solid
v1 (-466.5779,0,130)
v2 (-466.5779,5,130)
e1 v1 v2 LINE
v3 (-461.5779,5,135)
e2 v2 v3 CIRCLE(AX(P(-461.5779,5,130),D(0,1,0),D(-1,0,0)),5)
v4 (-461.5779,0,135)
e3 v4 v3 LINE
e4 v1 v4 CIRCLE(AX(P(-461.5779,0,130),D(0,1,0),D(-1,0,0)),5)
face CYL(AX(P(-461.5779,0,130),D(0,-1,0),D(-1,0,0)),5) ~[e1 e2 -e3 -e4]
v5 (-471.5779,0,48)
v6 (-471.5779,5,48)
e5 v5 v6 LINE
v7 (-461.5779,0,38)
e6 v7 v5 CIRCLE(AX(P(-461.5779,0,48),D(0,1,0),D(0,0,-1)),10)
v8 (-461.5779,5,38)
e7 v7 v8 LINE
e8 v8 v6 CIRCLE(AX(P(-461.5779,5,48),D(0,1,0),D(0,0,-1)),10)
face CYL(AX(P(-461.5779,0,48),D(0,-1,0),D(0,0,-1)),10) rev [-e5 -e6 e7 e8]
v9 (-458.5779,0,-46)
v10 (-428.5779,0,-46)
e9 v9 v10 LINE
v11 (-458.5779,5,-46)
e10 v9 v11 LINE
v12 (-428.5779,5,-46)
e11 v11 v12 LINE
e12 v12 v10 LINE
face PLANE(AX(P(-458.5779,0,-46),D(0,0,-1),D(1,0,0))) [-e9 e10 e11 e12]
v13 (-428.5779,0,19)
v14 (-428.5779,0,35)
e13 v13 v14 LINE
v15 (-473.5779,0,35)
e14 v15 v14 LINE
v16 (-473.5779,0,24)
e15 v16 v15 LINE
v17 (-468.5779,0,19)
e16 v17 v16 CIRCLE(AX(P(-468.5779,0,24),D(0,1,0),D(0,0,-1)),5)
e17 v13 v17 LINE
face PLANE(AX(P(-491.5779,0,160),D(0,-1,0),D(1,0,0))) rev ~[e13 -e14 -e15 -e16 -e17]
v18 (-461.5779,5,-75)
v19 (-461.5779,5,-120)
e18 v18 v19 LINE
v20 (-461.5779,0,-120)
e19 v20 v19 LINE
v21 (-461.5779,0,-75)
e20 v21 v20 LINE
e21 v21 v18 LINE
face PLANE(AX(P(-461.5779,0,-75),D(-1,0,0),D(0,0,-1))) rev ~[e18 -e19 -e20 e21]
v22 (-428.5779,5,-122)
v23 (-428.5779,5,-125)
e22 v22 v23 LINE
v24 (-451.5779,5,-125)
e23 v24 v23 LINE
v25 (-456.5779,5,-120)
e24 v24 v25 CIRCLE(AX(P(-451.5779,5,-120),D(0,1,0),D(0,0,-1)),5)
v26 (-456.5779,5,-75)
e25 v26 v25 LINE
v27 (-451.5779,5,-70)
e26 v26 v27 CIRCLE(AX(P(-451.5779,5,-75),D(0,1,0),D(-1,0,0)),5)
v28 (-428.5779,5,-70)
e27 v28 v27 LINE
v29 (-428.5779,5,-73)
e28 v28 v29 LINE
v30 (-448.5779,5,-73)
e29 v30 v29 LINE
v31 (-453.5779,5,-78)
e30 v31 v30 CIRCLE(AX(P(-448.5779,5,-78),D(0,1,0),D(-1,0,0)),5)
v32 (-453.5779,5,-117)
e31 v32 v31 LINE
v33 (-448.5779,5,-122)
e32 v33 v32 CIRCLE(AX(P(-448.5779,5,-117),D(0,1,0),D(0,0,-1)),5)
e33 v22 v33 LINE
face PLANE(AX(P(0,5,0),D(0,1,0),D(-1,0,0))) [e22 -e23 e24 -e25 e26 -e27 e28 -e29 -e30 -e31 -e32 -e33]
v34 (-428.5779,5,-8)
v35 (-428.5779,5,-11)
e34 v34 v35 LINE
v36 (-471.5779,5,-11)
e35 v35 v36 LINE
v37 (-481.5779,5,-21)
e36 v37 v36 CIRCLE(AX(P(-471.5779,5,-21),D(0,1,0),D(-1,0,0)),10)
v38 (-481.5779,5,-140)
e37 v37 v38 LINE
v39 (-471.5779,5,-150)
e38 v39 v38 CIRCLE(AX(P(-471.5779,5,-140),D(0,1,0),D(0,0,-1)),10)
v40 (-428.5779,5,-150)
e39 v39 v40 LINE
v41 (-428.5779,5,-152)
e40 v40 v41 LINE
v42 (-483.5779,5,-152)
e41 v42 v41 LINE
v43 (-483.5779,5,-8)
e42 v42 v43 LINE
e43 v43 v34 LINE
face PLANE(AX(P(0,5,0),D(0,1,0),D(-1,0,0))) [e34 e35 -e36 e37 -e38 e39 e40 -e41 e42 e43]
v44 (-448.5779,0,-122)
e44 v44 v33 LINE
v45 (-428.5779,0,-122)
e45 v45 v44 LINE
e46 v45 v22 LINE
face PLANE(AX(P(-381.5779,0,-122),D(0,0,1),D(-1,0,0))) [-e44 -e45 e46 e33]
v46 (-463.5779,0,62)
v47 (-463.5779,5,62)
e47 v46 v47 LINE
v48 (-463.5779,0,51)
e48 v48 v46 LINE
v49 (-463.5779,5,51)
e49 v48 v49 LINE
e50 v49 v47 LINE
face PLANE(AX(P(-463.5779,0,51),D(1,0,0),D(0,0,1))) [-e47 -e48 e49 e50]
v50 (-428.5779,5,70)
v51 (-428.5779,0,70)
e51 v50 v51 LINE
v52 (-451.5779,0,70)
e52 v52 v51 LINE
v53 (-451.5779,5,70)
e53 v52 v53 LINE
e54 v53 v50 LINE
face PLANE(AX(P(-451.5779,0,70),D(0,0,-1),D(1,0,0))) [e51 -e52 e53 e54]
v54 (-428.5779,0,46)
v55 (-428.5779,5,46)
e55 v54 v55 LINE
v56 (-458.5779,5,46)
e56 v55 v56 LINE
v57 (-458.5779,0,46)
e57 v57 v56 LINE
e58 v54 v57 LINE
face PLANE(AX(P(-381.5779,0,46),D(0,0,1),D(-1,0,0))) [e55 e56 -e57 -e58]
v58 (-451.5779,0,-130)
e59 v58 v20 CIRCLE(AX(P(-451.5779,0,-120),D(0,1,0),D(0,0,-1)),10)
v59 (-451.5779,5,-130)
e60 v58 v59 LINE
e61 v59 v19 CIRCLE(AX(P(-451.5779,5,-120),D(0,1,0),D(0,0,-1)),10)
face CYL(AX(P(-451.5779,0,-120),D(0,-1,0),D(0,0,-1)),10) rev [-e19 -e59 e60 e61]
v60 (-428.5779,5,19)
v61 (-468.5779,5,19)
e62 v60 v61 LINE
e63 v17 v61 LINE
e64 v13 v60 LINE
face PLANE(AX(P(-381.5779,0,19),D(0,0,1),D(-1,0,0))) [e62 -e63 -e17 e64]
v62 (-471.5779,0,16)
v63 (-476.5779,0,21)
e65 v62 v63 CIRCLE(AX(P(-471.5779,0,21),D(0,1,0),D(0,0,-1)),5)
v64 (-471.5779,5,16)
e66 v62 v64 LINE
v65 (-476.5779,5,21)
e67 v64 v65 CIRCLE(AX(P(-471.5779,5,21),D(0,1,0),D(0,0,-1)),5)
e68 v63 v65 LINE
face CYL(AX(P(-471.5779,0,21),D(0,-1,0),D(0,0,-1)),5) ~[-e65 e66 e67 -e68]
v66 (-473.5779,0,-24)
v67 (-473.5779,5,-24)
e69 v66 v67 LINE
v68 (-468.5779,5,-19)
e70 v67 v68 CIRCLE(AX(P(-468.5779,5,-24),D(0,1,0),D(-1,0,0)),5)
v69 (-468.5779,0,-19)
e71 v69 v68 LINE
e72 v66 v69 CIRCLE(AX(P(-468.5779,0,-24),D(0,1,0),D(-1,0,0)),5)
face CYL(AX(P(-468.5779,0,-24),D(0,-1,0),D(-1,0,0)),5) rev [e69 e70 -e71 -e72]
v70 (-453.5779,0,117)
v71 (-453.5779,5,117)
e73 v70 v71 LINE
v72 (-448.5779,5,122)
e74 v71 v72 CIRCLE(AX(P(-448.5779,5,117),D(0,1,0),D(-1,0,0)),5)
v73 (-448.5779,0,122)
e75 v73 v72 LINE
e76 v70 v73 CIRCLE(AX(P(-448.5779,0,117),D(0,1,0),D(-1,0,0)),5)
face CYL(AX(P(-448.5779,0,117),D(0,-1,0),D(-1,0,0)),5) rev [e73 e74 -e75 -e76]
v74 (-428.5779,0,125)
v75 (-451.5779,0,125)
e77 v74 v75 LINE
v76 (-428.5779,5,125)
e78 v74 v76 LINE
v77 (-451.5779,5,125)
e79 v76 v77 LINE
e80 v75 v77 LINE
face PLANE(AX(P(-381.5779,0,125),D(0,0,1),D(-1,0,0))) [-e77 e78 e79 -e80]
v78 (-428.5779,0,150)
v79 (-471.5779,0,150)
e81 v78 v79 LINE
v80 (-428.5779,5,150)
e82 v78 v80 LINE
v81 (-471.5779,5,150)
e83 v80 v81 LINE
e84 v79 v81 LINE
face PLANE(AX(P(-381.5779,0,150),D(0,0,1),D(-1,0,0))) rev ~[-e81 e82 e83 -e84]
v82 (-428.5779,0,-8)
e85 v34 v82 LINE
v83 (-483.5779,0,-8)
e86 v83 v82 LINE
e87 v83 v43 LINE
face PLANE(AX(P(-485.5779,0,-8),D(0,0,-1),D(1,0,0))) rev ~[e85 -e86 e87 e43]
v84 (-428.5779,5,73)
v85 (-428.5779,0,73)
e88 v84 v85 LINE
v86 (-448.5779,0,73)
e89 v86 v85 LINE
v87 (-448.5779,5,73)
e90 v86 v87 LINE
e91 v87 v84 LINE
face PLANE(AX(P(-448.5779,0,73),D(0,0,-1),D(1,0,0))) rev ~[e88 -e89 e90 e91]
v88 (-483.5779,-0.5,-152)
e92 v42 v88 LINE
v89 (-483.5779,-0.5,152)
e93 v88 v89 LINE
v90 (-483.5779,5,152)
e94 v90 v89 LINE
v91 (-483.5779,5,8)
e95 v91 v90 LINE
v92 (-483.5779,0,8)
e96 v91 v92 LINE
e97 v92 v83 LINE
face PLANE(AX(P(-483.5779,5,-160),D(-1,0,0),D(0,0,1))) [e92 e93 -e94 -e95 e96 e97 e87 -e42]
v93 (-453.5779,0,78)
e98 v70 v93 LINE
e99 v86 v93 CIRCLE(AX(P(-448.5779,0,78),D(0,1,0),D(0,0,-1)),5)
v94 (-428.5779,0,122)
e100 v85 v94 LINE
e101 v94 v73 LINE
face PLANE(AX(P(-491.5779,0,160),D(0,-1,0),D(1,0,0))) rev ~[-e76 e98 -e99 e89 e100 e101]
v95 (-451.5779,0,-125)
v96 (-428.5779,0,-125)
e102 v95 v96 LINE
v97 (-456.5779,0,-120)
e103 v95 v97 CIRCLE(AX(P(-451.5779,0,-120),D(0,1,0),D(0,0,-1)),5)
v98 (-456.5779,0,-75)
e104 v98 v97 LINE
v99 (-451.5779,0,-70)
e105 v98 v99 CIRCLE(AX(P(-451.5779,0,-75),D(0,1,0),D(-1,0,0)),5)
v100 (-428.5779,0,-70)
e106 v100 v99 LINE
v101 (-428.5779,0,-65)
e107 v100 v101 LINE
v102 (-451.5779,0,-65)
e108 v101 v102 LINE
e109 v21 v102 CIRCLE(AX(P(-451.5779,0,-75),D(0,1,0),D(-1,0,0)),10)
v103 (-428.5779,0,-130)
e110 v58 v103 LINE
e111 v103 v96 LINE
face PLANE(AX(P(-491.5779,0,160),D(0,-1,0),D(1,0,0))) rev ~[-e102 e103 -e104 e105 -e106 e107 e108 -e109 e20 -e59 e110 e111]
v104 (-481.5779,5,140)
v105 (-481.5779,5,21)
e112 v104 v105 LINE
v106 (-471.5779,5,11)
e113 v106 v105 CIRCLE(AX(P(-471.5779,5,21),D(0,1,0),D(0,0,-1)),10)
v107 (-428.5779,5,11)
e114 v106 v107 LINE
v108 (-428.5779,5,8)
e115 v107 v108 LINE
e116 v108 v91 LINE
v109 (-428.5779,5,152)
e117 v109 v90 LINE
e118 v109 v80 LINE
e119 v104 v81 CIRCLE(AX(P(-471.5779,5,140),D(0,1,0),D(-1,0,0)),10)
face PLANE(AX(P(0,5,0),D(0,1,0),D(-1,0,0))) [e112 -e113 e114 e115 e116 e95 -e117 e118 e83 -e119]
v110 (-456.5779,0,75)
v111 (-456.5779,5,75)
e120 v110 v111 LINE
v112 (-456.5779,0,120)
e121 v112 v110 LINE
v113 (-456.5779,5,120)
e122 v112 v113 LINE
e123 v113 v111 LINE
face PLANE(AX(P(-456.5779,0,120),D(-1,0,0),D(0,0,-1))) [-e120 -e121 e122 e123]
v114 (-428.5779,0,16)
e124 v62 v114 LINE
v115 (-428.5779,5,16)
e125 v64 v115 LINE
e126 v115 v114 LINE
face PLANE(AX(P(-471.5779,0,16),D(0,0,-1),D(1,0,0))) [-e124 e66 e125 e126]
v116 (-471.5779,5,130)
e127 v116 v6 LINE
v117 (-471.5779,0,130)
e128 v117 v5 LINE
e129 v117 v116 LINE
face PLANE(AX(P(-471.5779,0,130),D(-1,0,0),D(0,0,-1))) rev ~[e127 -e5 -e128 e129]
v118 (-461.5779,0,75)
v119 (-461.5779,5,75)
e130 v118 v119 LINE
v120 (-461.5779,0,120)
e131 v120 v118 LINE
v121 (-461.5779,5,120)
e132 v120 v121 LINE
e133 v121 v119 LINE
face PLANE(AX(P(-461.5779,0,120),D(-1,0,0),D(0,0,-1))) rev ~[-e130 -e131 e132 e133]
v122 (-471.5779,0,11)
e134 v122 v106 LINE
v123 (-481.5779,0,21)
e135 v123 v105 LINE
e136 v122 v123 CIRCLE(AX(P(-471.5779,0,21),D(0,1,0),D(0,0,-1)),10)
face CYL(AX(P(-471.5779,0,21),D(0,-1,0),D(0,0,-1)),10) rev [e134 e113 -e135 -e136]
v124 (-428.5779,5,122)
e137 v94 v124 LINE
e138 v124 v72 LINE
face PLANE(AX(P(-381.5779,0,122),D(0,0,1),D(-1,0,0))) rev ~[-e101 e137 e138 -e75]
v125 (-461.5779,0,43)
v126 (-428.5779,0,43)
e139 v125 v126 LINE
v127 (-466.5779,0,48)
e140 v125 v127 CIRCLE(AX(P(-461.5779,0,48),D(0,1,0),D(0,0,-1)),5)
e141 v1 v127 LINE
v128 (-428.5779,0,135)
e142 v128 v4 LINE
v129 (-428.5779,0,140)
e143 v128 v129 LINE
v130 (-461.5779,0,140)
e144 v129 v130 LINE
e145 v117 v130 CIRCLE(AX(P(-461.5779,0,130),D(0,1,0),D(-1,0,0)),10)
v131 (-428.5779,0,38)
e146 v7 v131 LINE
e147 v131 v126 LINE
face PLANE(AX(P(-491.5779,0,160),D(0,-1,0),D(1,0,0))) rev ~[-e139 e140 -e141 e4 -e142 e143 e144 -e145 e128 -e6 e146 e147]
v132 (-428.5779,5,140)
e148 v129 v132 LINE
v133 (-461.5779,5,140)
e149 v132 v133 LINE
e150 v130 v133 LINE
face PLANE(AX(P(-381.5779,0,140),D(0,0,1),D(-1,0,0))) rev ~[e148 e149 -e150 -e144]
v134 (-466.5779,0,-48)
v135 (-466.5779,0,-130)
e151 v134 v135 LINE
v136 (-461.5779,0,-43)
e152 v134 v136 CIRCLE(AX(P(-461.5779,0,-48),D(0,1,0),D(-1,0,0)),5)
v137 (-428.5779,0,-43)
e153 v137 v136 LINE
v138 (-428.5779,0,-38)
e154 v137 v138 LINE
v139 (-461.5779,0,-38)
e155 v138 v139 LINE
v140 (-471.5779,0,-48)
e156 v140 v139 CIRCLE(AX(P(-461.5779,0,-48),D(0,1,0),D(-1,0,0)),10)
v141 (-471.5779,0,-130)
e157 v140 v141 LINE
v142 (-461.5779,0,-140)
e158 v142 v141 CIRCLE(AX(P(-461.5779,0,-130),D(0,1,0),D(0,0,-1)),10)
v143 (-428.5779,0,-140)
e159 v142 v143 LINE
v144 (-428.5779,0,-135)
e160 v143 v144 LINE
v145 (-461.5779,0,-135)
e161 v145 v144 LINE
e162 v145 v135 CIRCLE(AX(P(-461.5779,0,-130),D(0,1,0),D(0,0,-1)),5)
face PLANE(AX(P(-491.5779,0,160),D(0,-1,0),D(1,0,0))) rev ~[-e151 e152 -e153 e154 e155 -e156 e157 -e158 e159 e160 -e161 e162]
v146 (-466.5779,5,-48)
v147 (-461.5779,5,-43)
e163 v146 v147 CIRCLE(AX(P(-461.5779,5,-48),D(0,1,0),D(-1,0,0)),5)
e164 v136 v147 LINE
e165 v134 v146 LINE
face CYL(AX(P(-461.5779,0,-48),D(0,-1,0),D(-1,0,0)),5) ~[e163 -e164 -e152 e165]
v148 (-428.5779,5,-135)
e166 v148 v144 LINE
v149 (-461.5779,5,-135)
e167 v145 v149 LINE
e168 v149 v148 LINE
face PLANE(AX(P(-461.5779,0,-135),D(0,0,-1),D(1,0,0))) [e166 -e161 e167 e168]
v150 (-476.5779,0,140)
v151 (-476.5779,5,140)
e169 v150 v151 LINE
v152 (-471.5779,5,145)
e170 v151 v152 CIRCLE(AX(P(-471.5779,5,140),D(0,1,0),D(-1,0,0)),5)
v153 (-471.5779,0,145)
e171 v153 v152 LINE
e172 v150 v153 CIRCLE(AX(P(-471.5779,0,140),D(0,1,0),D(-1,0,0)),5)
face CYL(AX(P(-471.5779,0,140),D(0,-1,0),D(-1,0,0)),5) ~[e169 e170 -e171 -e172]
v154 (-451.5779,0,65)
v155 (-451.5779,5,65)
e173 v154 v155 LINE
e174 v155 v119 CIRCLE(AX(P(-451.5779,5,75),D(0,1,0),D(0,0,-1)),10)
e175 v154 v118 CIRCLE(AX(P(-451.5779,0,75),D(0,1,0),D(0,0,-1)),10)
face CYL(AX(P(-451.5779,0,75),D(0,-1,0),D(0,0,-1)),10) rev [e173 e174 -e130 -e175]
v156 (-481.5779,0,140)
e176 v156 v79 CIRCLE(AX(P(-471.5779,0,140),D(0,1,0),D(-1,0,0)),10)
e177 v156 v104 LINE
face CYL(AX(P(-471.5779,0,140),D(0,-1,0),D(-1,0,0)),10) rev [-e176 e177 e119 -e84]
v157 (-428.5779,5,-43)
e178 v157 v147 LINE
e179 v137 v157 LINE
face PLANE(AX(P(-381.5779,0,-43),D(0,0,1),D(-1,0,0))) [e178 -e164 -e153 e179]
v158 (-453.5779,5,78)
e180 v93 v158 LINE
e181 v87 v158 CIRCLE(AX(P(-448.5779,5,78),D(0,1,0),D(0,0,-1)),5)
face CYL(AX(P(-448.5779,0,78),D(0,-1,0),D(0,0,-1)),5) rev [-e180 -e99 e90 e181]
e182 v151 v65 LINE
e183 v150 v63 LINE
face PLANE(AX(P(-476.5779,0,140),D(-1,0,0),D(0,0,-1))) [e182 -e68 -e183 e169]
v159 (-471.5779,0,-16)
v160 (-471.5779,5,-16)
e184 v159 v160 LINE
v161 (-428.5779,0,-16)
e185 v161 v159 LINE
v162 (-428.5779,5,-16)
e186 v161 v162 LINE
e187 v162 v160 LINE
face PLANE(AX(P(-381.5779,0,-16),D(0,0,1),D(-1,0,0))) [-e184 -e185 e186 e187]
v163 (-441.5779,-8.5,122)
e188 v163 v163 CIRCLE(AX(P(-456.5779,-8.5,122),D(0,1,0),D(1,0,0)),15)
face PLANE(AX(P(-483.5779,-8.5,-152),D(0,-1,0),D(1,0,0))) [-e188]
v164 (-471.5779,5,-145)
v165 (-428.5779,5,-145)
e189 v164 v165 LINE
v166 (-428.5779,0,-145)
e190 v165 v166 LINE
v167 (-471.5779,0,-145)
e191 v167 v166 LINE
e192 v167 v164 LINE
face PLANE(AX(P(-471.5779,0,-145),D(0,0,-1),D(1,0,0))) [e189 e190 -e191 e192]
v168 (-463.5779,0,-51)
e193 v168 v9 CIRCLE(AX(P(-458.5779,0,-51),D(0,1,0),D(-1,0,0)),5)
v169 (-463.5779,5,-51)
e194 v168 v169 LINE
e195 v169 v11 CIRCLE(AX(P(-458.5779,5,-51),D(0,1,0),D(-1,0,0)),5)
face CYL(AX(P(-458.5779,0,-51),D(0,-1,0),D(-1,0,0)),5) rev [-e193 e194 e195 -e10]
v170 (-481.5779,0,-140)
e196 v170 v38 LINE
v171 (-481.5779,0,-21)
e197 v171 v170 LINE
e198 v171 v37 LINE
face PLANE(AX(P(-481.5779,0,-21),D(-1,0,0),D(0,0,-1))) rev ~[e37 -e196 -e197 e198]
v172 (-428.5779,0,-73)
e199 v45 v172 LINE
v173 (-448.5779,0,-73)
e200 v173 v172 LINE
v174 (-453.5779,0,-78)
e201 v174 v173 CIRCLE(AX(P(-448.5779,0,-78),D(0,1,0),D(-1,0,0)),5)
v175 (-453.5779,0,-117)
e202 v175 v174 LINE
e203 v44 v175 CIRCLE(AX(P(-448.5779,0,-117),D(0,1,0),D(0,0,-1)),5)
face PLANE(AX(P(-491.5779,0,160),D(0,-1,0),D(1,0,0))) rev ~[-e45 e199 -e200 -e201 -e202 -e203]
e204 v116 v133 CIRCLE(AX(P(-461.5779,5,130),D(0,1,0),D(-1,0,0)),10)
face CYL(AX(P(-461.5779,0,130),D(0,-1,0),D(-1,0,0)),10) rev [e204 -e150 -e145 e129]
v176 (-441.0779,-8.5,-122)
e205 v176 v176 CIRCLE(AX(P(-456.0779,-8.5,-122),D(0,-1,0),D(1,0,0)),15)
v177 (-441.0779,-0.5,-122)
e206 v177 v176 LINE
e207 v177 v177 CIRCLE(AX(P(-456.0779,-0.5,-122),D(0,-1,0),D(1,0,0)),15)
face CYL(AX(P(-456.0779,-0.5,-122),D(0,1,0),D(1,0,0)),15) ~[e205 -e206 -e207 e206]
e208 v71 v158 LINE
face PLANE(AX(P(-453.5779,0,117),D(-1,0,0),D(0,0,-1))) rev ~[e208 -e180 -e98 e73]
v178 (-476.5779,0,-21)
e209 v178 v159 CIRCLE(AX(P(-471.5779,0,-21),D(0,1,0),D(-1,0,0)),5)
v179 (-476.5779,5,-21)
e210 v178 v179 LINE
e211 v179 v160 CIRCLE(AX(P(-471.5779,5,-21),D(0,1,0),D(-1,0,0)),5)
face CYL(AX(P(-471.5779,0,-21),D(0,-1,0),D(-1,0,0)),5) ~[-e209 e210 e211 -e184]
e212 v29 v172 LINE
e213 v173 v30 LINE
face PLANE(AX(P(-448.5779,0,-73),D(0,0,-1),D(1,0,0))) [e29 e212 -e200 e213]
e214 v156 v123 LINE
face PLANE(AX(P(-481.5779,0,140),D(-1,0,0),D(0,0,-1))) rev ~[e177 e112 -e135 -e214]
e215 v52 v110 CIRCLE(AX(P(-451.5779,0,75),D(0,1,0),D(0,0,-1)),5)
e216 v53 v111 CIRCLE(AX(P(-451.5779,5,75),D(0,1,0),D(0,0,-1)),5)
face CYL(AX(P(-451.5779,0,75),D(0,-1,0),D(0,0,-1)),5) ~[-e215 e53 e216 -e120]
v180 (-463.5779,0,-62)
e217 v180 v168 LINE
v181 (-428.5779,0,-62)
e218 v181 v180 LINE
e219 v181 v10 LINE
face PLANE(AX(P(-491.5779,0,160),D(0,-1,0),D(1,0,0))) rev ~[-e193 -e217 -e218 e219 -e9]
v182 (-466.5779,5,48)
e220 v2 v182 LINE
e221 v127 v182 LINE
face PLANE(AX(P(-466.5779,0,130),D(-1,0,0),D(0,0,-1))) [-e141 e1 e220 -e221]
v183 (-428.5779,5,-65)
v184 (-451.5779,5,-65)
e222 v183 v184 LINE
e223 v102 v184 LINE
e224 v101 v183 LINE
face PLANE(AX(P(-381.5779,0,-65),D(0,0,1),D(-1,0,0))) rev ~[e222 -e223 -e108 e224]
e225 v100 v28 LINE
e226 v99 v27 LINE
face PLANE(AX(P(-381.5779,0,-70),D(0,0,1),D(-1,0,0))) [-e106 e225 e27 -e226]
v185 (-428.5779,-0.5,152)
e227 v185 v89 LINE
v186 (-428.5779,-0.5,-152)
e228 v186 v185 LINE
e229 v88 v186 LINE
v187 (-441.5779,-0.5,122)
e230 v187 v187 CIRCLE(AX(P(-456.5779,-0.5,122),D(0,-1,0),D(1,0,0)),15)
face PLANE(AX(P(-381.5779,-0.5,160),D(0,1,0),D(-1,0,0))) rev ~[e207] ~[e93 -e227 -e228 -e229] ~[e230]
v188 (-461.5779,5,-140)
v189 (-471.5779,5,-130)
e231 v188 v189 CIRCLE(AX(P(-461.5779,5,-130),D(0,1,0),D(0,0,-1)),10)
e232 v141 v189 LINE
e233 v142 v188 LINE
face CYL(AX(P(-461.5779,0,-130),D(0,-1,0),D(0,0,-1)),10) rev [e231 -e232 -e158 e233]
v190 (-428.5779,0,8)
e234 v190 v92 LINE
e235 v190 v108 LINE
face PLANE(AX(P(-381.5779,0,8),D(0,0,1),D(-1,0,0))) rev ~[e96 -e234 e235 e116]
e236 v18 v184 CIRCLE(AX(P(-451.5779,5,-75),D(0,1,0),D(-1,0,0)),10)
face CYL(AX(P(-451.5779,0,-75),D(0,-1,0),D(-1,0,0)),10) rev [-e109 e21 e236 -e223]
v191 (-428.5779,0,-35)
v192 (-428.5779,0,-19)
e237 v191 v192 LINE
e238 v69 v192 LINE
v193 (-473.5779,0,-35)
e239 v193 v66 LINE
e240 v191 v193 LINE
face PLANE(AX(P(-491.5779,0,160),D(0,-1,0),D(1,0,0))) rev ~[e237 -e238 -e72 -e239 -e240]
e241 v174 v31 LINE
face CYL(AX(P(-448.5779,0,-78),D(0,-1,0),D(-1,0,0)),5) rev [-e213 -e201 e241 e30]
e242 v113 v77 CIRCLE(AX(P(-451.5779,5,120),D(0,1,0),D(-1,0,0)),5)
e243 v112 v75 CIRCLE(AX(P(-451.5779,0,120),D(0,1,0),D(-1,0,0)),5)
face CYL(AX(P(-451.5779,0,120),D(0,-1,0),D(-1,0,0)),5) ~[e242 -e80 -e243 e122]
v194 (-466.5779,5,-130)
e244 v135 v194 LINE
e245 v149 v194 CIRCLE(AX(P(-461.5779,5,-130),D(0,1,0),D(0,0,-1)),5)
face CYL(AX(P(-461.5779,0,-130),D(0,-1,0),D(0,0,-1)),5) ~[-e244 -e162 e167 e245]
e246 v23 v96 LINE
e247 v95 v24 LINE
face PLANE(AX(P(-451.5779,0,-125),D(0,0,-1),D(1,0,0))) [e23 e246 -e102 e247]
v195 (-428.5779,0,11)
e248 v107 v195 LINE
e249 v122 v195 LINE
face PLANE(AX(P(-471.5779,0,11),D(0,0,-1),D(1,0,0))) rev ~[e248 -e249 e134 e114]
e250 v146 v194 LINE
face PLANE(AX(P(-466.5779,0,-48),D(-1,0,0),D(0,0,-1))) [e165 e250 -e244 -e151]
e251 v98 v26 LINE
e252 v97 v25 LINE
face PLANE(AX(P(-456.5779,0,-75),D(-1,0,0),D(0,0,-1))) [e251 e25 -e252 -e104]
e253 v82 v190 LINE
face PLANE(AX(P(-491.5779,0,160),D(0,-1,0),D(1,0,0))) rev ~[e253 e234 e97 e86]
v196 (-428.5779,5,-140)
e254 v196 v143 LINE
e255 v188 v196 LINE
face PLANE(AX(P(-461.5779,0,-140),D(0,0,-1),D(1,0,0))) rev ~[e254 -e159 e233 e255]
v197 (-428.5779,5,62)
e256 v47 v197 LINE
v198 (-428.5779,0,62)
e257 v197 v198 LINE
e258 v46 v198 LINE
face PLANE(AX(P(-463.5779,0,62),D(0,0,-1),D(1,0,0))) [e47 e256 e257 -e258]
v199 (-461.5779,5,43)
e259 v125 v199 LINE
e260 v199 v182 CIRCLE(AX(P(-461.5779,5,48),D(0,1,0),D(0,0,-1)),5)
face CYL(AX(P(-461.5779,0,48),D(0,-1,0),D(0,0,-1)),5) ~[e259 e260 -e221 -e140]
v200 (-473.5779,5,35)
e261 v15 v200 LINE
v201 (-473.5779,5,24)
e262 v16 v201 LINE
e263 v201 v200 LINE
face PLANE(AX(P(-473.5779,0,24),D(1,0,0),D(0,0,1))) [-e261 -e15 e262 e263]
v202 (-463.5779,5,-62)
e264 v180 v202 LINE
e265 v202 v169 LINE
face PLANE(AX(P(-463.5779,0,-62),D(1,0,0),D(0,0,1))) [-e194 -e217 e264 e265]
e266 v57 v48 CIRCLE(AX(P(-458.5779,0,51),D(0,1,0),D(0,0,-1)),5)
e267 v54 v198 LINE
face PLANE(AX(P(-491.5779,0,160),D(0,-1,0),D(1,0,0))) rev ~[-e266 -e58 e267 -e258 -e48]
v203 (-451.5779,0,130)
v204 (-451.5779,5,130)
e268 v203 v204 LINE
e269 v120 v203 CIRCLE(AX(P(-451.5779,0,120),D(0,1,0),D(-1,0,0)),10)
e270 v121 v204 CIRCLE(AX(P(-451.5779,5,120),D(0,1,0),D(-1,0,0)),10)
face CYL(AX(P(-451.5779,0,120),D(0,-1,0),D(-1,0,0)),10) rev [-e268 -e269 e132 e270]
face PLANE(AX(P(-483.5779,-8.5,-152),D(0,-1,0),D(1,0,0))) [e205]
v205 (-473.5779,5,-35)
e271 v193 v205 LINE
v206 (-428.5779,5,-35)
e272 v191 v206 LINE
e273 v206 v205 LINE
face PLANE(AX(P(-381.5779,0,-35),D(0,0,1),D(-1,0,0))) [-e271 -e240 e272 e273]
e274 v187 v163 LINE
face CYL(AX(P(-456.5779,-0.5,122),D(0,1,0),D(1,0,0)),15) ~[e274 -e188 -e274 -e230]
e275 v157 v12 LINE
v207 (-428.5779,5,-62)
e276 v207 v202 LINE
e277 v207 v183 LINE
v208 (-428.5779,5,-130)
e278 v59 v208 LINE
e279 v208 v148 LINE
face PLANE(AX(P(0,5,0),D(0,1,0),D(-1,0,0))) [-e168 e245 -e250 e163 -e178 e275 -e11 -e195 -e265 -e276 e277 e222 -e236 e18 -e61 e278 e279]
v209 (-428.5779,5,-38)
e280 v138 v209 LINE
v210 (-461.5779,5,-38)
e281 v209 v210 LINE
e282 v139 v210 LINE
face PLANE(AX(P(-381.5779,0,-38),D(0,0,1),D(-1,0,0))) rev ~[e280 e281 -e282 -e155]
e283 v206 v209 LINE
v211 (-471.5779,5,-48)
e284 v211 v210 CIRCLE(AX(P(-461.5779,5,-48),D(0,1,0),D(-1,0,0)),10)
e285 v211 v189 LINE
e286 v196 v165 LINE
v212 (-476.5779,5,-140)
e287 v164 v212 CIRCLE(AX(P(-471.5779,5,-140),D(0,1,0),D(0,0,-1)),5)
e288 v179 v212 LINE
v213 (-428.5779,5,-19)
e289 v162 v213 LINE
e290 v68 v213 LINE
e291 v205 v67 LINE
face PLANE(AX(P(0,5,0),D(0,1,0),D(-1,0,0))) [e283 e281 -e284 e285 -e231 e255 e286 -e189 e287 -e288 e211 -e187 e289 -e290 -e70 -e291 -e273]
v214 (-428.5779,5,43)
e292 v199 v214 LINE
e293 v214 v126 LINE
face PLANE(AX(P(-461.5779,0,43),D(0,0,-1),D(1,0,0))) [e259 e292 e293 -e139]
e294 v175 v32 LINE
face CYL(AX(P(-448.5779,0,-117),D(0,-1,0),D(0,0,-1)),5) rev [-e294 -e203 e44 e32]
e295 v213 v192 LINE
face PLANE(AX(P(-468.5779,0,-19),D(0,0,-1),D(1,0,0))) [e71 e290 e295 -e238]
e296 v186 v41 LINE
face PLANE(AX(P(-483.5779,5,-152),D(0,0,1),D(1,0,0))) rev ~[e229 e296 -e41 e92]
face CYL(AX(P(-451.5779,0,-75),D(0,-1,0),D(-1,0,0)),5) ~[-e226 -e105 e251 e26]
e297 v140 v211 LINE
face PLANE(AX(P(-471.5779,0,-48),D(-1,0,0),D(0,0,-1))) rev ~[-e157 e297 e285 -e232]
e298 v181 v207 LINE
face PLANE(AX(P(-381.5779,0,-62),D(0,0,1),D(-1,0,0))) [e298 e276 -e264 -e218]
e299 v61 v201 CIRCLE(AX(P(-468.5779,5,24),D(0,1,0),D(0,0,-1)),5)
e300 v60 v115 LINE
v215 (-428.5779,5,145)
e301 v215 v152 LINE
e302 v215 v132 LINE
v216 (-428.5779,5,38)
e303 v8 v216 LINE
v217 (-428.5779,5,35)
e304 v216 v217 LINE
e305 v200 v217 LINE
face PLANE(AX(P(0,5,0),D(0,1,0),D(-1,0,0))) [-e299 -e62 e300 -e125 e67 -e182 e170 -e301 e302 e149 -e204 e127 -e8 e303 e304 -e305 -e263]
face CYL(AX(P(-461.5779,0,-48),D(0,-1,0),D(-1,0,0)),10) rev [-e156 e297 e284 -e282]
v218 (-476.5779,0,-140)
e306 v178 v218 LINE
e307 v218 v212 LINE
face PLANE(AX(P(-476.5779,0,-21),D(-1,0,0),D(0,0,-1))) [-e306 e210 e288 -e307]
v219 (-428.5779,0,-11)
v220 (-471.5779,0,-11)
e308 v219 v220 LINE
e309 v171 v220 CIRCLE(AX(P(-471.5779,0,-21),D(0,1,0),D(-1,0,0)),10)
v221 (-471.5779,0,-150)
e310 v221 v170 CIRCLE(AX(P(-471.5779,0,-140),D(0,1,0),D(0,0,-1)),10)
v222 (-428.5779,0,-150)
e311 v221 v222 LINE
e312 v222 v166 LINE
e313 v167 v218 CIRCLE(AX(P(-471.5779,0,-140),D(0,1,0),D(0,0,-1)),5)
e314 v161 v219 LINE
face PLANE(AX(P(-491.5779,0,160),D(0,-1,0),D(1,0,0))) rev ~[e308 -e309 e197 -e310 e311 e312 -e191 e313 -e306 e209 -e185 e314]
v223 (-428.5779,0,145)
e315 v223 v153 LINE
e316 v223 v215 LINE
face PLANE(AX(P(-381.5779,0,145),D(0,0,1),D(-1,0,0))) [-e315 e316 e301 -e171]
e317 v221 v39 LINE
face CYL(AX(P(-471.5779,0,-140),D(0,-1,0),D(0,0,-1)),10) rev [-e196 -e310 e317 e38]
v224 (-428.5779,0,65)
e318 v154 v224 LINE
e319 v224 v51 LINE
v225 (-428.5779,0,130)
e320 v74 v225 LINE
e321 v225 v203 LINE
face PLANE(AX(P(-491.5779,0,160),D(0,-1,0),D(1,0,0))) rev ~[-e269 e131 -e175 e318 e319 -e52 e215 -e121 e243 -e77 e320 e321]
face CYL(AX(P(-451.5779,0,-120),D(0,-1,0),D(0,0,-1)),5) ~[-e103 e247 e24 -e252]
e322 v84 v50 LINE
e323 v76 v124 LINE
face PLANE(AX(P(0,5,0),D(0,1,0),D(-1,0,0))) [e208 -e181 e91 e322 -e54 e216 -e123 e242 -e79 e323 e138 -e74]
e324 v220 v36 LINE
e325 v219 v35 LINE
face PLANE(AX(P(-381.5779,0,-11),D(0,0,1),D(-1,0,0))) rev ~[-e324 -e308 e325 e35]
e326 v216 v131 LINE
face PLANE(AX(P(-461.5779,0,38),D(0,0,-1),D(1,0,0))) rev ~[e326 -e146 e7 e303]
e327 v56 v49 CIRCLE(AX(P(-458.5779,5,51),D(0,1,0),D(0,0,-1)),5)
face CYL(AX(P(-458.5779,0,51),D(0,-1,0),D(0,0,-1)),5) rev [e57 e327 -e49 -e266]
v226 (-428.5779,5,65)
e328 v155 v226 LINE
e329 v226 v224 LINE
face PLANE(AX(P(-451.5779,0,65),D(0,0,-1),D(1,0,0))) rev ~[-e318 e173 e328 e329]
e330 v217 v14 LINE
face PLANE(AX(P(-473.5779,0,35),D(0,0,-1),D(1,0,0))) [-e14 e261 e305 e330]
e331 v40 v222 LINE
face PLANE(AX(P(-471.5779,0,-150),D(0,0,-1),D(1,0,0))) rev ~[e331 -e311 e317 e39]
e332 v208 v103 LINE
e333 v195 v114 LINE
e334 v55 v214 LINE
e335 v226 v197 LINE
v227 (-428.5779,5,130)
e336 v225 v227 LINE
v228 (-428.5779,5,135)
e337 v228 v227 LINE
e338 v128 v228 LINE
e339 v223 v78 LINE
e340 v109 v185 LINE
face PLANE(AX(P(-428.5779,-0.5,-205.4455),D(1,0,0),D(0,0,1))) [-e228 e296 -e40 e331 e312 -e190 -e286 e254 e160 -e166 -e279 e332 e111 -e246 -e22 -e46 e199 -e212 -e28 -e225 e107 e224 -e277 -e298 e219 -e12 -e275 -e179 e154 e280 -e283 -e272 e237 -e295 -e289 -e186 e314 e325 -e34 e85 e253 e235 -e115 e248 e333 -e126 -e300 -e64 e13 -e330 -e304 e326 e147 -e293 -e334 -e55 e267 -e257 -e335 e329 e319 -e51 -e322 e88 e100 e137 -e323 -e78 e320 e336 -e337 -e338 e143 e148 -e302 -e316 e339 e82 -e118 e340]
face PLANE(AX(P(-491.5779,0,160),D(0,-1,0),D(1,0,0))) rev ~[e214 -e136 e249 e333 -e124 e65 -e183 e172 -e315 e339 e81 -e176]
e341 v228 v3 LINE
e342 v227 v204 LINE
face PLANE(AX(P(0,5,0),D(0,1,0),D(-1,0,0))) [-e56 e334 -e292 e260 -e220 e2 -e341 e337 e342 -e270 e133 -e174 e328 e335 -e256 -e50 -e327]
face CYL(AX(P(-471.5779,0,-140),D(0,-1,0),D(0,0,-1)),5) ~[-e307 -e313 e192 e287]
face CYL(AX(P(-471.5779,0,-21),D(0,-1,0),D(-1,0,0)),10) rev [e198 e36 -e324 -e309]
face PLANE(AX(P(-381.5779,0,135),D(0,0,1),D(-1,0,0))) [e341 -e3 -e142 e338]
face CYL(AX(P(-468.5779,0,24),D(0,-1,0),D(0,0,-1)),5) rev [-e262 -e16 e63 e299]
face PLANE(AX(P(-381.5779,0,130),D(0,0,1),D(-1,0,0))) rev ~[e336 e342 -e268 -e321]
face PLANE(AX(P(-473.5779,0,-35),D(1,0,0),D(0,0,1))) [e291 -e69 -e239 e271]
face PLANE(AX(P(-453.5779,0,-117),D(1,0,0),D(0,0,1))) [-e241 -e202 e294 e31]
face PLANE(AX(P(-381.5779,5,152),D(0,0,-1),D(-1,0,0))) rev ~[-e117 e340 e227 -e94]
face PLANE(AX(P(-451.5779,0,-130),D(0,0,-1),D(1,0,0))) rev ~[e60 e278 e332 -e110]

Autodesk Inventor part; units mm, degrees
ref_plane "YZ Plane" through (0, 0, 0) normal (1, 0, 0) x (0, 1, 0)
ref_plane "XZ Plane" through (0, 0, 0) normal (0, 1, 0) x (-1, 0, 0)
ref_plane "XY Plane" through (0, 0, 0) normal (0, 0, 1) x (1, 0, 0)
sketch "Sketch1" plane through (0, 0, 0) normal (0, 1, 0) x (-1, 0, 0)
  line L0 (381.5779, 150) -> (471.5779, 150)
  line L1 (481.5779, 140) -> (481.5779, 21)
  line L2 (381.5779, 145) -> (471.5779, 145)
  line L3 (476.5779, 140) -> (476.5779, 21)
  line L4 (471.5779, 16) -> (381.5779, 16)
  line L5 (471.5779, 11) -> (381.5779, 11)
  line L6 (381.5779, 135) -> (461.5779, 135)
  line L7 (381.5779, 140) -> (461.5779, 140)
  line L8 (466.5779, 130) -> (466.5779, 48)
  line L9 (461.5779, 43) -> (381.5779, 43)
  line L10 (471.5779, 130) -> (471.5779, 48)
  line L11 (461.5779, 38) -> (381.5779, 38)
  line L12 (381.5779, 125) -> (451.5779, 125)
  line L13 (456.5779, 120) -> (456.5779, 75)
  line L14 (451.5779, 70) -> (381.5779, 70)
  line L15 (381.5779, 130) -> (451.5779, 130)
  line L16 (461.5779, 120) -> (461.5779, 75)
  line L17 (451.5779, 65) -> (381.5779, 65)
  line L18 (381.5779, -11) -> (471.5779, -11)
  line L19 (481.5779, -21) -> (481.5779, -140)
  line L20 (471.5779, -150) -> (381.5779, -150)
  line L21 (381.5779, -16) -> (471.5779, -16)
  line L22 (476.5779, -21) -> (476.5779, -140)
  line L23 (471.5779, -145) -> (381.5779, -145)
  line L24 (381.5779, -38) -> (461.5779, -38)
  line L25 (471.5779, -48) -> (471.5779, -130)
  line L26 (461.5779, -140) -> (381.5779, -140)
  line L27 (381.5779, -43) -> (461.5779, -43)
  line L28 (466.5779, -48) -> (466.5779, -130)
  line L29 (461.5779, -135) -> (381.5779, -135)
  line L30 (381.5779, -65) -> (451.5779, -65)
  line L31 (461.5779, -75) -> (461.5779, -120)
  line L32 (381.5779, -70) -> (451.5779, -70)
  line L33 (456.5779, -75) -> (456.5779, -120)
  line L34 (451.5779, -125) -> (381.5779, -125)
  line L35 (451.5779, -130) -> (381.5779, -130)
  line L36 (491.5779, 160) -> (491.5779, -160)
  line L37 (491.5779, -160) -> (381.5779, -160)
  line L38 (381.5779, 160) -> (491.5779, 160)
  line L39 (381.5779, -212.9987) -> (381.5779, 354.6855) construction
  line L40 (381.5779, -160) -> (381.5779, 160)
  line L41 (381.5779, 122) -> (448.5779, 122)
  line L42 (453.5779, 117) -> (453.5779, 78)
  line L43 (448.5779, 73) -> (381.5779, 73)
  line L44 (381.5779, 73) -> (381.5779, 122)
  line L45 (463.5779, 62) -> (381.5779, 62)
  line L46 (381.5779, 62) -> (381.5779, 46)
  line L47 (381.5779, 46) -> (458.5779, 46)
  line L48 (463.5779, 51) -> (463.5779, 62)
  line L49 (381.5779, 8) -> (485.5779, 8)
  line L50 (485.5779, 8) -> (485.5779, -8)
  line L51 (485.5779, -8) -> (381.5779, -8)
  line L52 (381.5779, -8) -> (381.5779, 8)
  line L53 (473.5779, 35) -> (381.5779, 35)
  line L54 (381.5779, 35) -> (381.5779, 19)
  line L55 (381.5779, 19) -> (468.5779, 19)
  line L56 (473.5779, 24) -> (473.5779, 35)
  line L57 (468.5779, -19) -> (381.5779, -19)
  line L58 (381.5779, -19) -> (381.5779, -35)
  line L59 (381.5779, -35) -> (473.5779, -35)
  line L60 (473.5779, -35) -> (473.5779, -24)
  line L61 (458.5779, -46) -> (381.5779, -46)
  line L62 (381.5779, -46) -> (381.5779, -62)
  line L63 (381.5779, -62) -> (463.5779, -62)
  line L64 (463.5779, -62) -> (463.5779, -51)
  line L65 (448.5779, -73) -> (381.5779, -73)
  line L66 (381.5779, -73) -> (381.5779, -122)
  line L67 (381.5779, -122) -> (448.5779, -122)
  line L68 (453.5779, -117) -> (453.5779, -78)
  line L69 (461.5779, 130) -> (456.5779, 130) construction
  line L70 (456.5779, 130) -> (456.5779, 125) construction
  line L71 (456.5779, 125) -> (461.5779, 125) construction
  line L72 (461.5779, 125) -> (461.5779, 130) construction
  line L73 (456.5779, 125) -> (451.5779, 125) construction
  line L74 (451.5779, 125) -> (451.5779, 120) construction
  line L75 (451.5779, 120) -> (456.5779, 120) construction
  line L76 (456.5779, 120) -> (456.5779, 125) construction
  arc A0 (456.5779, 120) -> (451.5779, 125) centre (451.5779, 120) ccw
  arc A1 (461.5779, 120) -> (451.5779, 130) centre (451.5779, 120) ccw
  arc A2 (471.5779, 130) -> (461.5779, 140) centre (461.5779, 130) ccw
  arc A3 (466.5779, 130) -> (461.5779, 135) centre (461.5779, 130) ccw
  arc A4 (476.5779, 140) -> (471.5779, 145) centre (471.5779, 140) ccw
  arc A5 (481.5779, 140) -> (471.5779, 150) centre (471.5779, 140) ccw
  arc A6 (453.5779, 117) -> (448.5779, 122) centre (448.5779, 117) ccw
  arc A7 (448.5779, 73) -> (453.5779, 78) centre (448.5779, 78) ccw
  arc A8 (451.5779, 70) -> (456.5779, 75) centre (451.5779, 75) ccw
  arc A9 (451.5779, 65) -> (461.5779, 75) centre (451.5779, 75) ccw
  arc A10 (461.5779, 38) -> (471.5779, 48) centre (461.5779, 48) ccw
  arc A11 (471.5779, 11) -> (481.5779, 21) centre (471.5779, 21) ccw
  arc A12 (471.5779, 16) -> (476.5779, 21) centre (471.5779, 21) ccw
  arc A13 (461.5779, 43) -> (466.5779, 48) centre (461.5779, 48) ccw
  arc A14 (458.5779, 46) -> (463.5779, 51) centre (458.5779, 51) ccw
  arc A15 (468.5779, 19) -> (473.5779, 24) centre (468.5779, 24) ccw
  arc A16 (453.5779, -78) -> (448.5779, -73) centre (448.5779, -78) ccw
  arc A17 (456.5779, -75) -> (451.5779, -70) centre (451.5779, -75) ccw
  arc A18 (451.5779, -125) -> (456.5779, -120) centre (451.5779, -120) ccw
  arc A19 (448.5779, -122) -> (453.5779, -117) centre (448.5779, -117) ccw
  arc A20 (461.5779, -75) -> (451.5779, -65) centre (451.5779, -75) ccw
  arc A21 (451.5779, -130) -> (461.5779, -120) centre (451.5779, -120) ccw
  arc A22 (461.5779, -140) -> (471.5779, -130) centre (461.5779, -130) ccw
  arc A23 (461.5779, -135) -> (466.5779, -130) centre (461.5779, -130) ccw
  arc A24 (466.5779, -48) -> (461.5779, -43) centre (461.5779, -48) ccw
  arc A25 (463.5779, -51) -> (458.5779, -46) centre (458.5779, -51) ccw
  arc A26 (471.5779, -48) -> (461.5779, -38) centre (461.5779, -48) ccw
  arc A27 (471.5779, -150) -> (481.5779, -140) centre (471.5779, -140) ccw
  arc A28 (481.5779, -21) -> (471.5779, -11) centre (471.5779, -21) ccw
  arc A29 (476.5779, -21) -> (471.5779, -16) centre (471.5779, -21) ccw
  arc A30 (473.5779, -24) -> (468.5779, -19) centre (468.5779, -24) ccw
  arc A31 (471.5779, -145) -> (476.5779, -140) centre (471.5779, -140) ccw
  point P0 (481.5779, 150)
  point P1 (481.5779, 11)
  point P2 (476.5779, 145)
  point P3 (476.5779, 16)
  point P4 (466.5779, 135)
  point P5 (466.5779, 43)
  point P6 (471.5779, 38)
  point P7 (456.5779, 70)
  point P8 (461.5779, 65)
  point P9 (481.5779, -11)
  point P10 (481.5779, -150)
  point P11 (476.5779, -16)
  point P12 (476.5779, -145)
  point P13 (471.5779, -38)
  point P14 (471.5779, -140)
  point P15 (466.5779, -43)
  point P16 (466.5779, -135)
  point P17 (461.5779, -65)
  point P18 (461.5779, -130)
  point P19 (456.5779, -70)
  point P20 (456.5779, -125)
  point P21 (453.5779, 73)
  point P22 (453.5779, 122)
  point P23 (463.5779, 46)
  point P24 (473.5779, 19)
  point P25 (473.5779, -19)
  point P26 (463.5779, -46)
  point P27 (453.5779, -73)
  point P28 (453.5779, -122)
  dimension "d3" = 5
  dimension "d4" = 5
  dimension "d7" = 5
  dimension "d8" = 5
  dimension "d9" = 5
  dimension "d10" = 5
  dimension "d14" = 5
  dimension "d16" = 5
  dimension "d18" = 5
  dimension "d19" = 5
  dimension "d20" = 22
  dimension "d21" = 5
  dimension "d22" = 5
  dimension "d30" = 5
  dimension "d31" = 5
  dimension "d32" = 5
  dimension "d36" = 5
  dimension "d37" = 5
  dimension "d38" = 5
  dimension "d40" = 5
  dimension "d43" = 5
  dimension "d44" = 5
  dimension "d45" = 5
  dimension "d48" = 5
  dimension "d49" = 5
  dimension "d57" = 10
  dimension "d63" = 110
  dimension "d64" = 3
  dimension "d65" = 3
  dimension "d66" = 3
  dimension "d67" = 3
  dimension "d68" = 3
  dimension "d69" = 3
  dimension "d70" = 6
  dimension "d71" = 3
  dimension "d72" = 3
  dimension "d73" = 3
  dimension "d74" = 3
  dimension "d75" = 3
  dimension "d76" = 3
  dimension "d77" = 3
  dimension "d78" = 3
  dimension "d79" = 3
  dimension "d80" = 3
  dimension "d81" = 3
  dimension "d82" = 3
  dimension "d83" = 3
  dimension "d84" = 3
  dimension "d90" = 5
  dimension "d91" = 5
  dimension "d92" = 5
  dimension "d93" = 10
extrude "Extrusion1" add sketch "Sketch1" along normal blind 5 contours L40 L38 L36 L37 L20 A27 L19 A28 L18 L51 L50 L49 L5 A11 L1 A5 L0 | L2 A4 L3 A12 L4 L40 L55 A15 L56 L53 L11 A10 L10 A2 L7 | L6 A3 L8 A13 L9 L40 L47 A14 L48 L45 L17 A9 L16 A1 L15 | L12 A0 L13 A8 L14 L40 L43 A7 L42 A6 L41 | L40 L26 A22 L25 A26 L24 L59 L60 A30 L57 L21 A29 L22 A31 L23 | L40 L35 A21 L31 A20 L30 L63 L64 A25 L61 L27 A24 L28 A23 L29 | L40 L67 A19 L68 A16 L65 L32 A17 L33 A18 L34
sketch "Sketch2" plane through (-491.5779, 0, 160) normal (0, 0, 1) x (1, 0, 0)
  line L0 (0, 0) -> (0, 5) projected
  line L1 (0, 0) -> (110, 0)
  line L2 (110, 0) -> (110, -0.5)
  line L3 (110, -0.5) -> (0, -0.5)
  line L4 (0, -0.5) -> (0, 0)
  point P0 (491.5779, 0)
  dimension "d87" = 0.5
extrude "Extrusion2" add sketch "Sketch2" against normal blind 320
sketch "Sketch3" plane through (0, 5, 0) normal (0, 1, 0) x (1, 0, 0)
  line L0 (-491.5779, 160) -> (-491.5779, -160) projected
  line L1 (-491.5779, -160) -> (-381.5779, -160) projected
  line L2 (-491.5779, 160) -> (-483.5779, 160)
  line L3 (-483.5779, 160) -> (-483.5779, -160)
  line L4 (-483.5779, -160) -> (-491.5779, -160)
  line L5 (-491.5779, -160) -> (-491.5779, 160)
  line L6 (-481.5779, -140) -> (-481.5779, -21) projected
  point P0 (0, 0)
  dimension "d94" = 2
extrude "Extrusion3" cut sketch "Sketch3" against normal blind 13.175
sketch "Sketch4" plane through (0, 5, 0) normal (0, 1, 0) x (1, 0, 0)
  line L0 (-381.5779, 160) -> (-483.5779, 160) projected
  line L1 (-483.5779, 160) -> (-483.5779, 8) projected
  line L2 (-381.5779, 160) -> (-483.5779, 160)
  line L3 (-483.5779, 160) -> (-483.5779, 152)
  line L4 (-483.5779, 152) -> (-381.5779, 152)
  line L5 (-381.5779, 152) -> (-381.5779, 160)
  line L6 (-471.5779, 150) -> (-381.5779, 150) projected
  line L7 (-483.5779, -160) -> (-483.5779, 160) projected
  line L8 (-381.5779, -160) -> (-381.5779, -150) projected
  line L9 (-483.5779, -160) -> (-381.5779, -160)
  line L10 (-381.5779, -160) -> (-381.5779, -152)
  line L11 (-381.5779, -152) -> (-483.5779, -152)
  line L12 (-483.5779, -152) -> (-483.5779, -160)
  line L13 (-381.5779, -150) -> (-471.5779, -150) projected
  point P0 (0, 0)
  dimension "d97" = 2
  dimension "d98" = 2
extrude "Extrusion4" cut sketch "Sketch4" against normal blind 13.175
sketch "Sketch5" plane through (-483.5779, -0.5, 152) normal (0, -1, 0) x (1, 0, 0)
  line L0 (102, 0) -> (102, -304) construction
  line L1 (102, -152) -> (-17.1685, -152) construction
  line L2 (55, 61.7144) -> (55, -397.0664) construction
  line L3 (55, 43.5951) -> (102, 43.5951) construction
  line L4 (102, 43.5951) -> (102, -357.4455) construction
  line L5 (102, -357.4455) -> (55, -357.4455) construction
  line L6 (55, -357.4455) -> (55, 43.5951) construction
  line L7 (102, -357.4455) -> (55, -357.4455)
  line L8 (55, -357.4455) -> (55, 43.5951)
  line L9 (55, 43.5951) -> (102, 43.5951)
  line L10 (102, 43.5951) -> (102, -357.4455)
  point P0 (483.5779, -152)
extrude "Extrusion6" cut sketch "Sketch5" against normal blind 12.6375
sketch "Sketch6" plane through (-483.5779, -0.5, -152) normal (0, -1, 0) x (1, 0, 0)
  line L0 (55, 0) -> (55, 304) construction
  line L1 (55, 0) -> (0, 0) construction
  line L2 (0, 304) -> (55, 304) construction
  line L3 (27.5, 304) -> (27.5, 0) construction
  line L4 (27, 227) -> (27, 272) projected
  circle A0 centre (27, 274) radius 15
  circle A1 centre (27, -916.61) radius 75.0373
  circle A2 centre (27.5, 30) radius 15
  point P0 (483.5779, 152)
  dimension "d125" = 30
  dimension "d126" = 30
  dimension "d127" = 30
  dimension "d128" = 30
extrude "Extrusion7" add sketch "Sketch6" along normal blind 8 contours A0 | A2
equation "\"d3\" = d25"
equation "\"d4\" = d25"
equation "\"d7\" = d25"
equation "\"d8\" = d25"
equation "\"d9\" = d25"
equation "\"d10\" = d26"
equation "\"d14\" = d25"
equation "\"d16\" = d26"
equation "\"d18\" = d25"
equation "\"d19\" = d25"
equation "\"d20\" = d28"
equation "\"d21\" = d25"
equation "\"d22\" = d25"
equation "\"d30\" = d51"
equation "\"d31\" = d51"
equation "\"d32\" = d51"
equation "\"d36\" = d51"
equation "\"d37\" = d53"
equation "\"d38\" = d51"
equation "\"d40\" = d51"
equation "\"d43\" = d51"
equation "\"d44\" = d51"
equation "\"d45\" = d53"
equation "\"d48\" = d51"
equation "\"d49\" = d53"
equation "\"d25\" = 5"
equation "\"d26\" = 5"
equation "\"d28\" = -1.2 * d25 + 0.2 * d29"
equation "\"d51\" = 5"
equation "\"d53\" = 5"
equation "\"d54\" = -1.2 * d51 + 0.2 * d55"
equation "\"d29\" = 140"
equation "\"d55\" = 140"
properties part number "wire_holder_half1"
